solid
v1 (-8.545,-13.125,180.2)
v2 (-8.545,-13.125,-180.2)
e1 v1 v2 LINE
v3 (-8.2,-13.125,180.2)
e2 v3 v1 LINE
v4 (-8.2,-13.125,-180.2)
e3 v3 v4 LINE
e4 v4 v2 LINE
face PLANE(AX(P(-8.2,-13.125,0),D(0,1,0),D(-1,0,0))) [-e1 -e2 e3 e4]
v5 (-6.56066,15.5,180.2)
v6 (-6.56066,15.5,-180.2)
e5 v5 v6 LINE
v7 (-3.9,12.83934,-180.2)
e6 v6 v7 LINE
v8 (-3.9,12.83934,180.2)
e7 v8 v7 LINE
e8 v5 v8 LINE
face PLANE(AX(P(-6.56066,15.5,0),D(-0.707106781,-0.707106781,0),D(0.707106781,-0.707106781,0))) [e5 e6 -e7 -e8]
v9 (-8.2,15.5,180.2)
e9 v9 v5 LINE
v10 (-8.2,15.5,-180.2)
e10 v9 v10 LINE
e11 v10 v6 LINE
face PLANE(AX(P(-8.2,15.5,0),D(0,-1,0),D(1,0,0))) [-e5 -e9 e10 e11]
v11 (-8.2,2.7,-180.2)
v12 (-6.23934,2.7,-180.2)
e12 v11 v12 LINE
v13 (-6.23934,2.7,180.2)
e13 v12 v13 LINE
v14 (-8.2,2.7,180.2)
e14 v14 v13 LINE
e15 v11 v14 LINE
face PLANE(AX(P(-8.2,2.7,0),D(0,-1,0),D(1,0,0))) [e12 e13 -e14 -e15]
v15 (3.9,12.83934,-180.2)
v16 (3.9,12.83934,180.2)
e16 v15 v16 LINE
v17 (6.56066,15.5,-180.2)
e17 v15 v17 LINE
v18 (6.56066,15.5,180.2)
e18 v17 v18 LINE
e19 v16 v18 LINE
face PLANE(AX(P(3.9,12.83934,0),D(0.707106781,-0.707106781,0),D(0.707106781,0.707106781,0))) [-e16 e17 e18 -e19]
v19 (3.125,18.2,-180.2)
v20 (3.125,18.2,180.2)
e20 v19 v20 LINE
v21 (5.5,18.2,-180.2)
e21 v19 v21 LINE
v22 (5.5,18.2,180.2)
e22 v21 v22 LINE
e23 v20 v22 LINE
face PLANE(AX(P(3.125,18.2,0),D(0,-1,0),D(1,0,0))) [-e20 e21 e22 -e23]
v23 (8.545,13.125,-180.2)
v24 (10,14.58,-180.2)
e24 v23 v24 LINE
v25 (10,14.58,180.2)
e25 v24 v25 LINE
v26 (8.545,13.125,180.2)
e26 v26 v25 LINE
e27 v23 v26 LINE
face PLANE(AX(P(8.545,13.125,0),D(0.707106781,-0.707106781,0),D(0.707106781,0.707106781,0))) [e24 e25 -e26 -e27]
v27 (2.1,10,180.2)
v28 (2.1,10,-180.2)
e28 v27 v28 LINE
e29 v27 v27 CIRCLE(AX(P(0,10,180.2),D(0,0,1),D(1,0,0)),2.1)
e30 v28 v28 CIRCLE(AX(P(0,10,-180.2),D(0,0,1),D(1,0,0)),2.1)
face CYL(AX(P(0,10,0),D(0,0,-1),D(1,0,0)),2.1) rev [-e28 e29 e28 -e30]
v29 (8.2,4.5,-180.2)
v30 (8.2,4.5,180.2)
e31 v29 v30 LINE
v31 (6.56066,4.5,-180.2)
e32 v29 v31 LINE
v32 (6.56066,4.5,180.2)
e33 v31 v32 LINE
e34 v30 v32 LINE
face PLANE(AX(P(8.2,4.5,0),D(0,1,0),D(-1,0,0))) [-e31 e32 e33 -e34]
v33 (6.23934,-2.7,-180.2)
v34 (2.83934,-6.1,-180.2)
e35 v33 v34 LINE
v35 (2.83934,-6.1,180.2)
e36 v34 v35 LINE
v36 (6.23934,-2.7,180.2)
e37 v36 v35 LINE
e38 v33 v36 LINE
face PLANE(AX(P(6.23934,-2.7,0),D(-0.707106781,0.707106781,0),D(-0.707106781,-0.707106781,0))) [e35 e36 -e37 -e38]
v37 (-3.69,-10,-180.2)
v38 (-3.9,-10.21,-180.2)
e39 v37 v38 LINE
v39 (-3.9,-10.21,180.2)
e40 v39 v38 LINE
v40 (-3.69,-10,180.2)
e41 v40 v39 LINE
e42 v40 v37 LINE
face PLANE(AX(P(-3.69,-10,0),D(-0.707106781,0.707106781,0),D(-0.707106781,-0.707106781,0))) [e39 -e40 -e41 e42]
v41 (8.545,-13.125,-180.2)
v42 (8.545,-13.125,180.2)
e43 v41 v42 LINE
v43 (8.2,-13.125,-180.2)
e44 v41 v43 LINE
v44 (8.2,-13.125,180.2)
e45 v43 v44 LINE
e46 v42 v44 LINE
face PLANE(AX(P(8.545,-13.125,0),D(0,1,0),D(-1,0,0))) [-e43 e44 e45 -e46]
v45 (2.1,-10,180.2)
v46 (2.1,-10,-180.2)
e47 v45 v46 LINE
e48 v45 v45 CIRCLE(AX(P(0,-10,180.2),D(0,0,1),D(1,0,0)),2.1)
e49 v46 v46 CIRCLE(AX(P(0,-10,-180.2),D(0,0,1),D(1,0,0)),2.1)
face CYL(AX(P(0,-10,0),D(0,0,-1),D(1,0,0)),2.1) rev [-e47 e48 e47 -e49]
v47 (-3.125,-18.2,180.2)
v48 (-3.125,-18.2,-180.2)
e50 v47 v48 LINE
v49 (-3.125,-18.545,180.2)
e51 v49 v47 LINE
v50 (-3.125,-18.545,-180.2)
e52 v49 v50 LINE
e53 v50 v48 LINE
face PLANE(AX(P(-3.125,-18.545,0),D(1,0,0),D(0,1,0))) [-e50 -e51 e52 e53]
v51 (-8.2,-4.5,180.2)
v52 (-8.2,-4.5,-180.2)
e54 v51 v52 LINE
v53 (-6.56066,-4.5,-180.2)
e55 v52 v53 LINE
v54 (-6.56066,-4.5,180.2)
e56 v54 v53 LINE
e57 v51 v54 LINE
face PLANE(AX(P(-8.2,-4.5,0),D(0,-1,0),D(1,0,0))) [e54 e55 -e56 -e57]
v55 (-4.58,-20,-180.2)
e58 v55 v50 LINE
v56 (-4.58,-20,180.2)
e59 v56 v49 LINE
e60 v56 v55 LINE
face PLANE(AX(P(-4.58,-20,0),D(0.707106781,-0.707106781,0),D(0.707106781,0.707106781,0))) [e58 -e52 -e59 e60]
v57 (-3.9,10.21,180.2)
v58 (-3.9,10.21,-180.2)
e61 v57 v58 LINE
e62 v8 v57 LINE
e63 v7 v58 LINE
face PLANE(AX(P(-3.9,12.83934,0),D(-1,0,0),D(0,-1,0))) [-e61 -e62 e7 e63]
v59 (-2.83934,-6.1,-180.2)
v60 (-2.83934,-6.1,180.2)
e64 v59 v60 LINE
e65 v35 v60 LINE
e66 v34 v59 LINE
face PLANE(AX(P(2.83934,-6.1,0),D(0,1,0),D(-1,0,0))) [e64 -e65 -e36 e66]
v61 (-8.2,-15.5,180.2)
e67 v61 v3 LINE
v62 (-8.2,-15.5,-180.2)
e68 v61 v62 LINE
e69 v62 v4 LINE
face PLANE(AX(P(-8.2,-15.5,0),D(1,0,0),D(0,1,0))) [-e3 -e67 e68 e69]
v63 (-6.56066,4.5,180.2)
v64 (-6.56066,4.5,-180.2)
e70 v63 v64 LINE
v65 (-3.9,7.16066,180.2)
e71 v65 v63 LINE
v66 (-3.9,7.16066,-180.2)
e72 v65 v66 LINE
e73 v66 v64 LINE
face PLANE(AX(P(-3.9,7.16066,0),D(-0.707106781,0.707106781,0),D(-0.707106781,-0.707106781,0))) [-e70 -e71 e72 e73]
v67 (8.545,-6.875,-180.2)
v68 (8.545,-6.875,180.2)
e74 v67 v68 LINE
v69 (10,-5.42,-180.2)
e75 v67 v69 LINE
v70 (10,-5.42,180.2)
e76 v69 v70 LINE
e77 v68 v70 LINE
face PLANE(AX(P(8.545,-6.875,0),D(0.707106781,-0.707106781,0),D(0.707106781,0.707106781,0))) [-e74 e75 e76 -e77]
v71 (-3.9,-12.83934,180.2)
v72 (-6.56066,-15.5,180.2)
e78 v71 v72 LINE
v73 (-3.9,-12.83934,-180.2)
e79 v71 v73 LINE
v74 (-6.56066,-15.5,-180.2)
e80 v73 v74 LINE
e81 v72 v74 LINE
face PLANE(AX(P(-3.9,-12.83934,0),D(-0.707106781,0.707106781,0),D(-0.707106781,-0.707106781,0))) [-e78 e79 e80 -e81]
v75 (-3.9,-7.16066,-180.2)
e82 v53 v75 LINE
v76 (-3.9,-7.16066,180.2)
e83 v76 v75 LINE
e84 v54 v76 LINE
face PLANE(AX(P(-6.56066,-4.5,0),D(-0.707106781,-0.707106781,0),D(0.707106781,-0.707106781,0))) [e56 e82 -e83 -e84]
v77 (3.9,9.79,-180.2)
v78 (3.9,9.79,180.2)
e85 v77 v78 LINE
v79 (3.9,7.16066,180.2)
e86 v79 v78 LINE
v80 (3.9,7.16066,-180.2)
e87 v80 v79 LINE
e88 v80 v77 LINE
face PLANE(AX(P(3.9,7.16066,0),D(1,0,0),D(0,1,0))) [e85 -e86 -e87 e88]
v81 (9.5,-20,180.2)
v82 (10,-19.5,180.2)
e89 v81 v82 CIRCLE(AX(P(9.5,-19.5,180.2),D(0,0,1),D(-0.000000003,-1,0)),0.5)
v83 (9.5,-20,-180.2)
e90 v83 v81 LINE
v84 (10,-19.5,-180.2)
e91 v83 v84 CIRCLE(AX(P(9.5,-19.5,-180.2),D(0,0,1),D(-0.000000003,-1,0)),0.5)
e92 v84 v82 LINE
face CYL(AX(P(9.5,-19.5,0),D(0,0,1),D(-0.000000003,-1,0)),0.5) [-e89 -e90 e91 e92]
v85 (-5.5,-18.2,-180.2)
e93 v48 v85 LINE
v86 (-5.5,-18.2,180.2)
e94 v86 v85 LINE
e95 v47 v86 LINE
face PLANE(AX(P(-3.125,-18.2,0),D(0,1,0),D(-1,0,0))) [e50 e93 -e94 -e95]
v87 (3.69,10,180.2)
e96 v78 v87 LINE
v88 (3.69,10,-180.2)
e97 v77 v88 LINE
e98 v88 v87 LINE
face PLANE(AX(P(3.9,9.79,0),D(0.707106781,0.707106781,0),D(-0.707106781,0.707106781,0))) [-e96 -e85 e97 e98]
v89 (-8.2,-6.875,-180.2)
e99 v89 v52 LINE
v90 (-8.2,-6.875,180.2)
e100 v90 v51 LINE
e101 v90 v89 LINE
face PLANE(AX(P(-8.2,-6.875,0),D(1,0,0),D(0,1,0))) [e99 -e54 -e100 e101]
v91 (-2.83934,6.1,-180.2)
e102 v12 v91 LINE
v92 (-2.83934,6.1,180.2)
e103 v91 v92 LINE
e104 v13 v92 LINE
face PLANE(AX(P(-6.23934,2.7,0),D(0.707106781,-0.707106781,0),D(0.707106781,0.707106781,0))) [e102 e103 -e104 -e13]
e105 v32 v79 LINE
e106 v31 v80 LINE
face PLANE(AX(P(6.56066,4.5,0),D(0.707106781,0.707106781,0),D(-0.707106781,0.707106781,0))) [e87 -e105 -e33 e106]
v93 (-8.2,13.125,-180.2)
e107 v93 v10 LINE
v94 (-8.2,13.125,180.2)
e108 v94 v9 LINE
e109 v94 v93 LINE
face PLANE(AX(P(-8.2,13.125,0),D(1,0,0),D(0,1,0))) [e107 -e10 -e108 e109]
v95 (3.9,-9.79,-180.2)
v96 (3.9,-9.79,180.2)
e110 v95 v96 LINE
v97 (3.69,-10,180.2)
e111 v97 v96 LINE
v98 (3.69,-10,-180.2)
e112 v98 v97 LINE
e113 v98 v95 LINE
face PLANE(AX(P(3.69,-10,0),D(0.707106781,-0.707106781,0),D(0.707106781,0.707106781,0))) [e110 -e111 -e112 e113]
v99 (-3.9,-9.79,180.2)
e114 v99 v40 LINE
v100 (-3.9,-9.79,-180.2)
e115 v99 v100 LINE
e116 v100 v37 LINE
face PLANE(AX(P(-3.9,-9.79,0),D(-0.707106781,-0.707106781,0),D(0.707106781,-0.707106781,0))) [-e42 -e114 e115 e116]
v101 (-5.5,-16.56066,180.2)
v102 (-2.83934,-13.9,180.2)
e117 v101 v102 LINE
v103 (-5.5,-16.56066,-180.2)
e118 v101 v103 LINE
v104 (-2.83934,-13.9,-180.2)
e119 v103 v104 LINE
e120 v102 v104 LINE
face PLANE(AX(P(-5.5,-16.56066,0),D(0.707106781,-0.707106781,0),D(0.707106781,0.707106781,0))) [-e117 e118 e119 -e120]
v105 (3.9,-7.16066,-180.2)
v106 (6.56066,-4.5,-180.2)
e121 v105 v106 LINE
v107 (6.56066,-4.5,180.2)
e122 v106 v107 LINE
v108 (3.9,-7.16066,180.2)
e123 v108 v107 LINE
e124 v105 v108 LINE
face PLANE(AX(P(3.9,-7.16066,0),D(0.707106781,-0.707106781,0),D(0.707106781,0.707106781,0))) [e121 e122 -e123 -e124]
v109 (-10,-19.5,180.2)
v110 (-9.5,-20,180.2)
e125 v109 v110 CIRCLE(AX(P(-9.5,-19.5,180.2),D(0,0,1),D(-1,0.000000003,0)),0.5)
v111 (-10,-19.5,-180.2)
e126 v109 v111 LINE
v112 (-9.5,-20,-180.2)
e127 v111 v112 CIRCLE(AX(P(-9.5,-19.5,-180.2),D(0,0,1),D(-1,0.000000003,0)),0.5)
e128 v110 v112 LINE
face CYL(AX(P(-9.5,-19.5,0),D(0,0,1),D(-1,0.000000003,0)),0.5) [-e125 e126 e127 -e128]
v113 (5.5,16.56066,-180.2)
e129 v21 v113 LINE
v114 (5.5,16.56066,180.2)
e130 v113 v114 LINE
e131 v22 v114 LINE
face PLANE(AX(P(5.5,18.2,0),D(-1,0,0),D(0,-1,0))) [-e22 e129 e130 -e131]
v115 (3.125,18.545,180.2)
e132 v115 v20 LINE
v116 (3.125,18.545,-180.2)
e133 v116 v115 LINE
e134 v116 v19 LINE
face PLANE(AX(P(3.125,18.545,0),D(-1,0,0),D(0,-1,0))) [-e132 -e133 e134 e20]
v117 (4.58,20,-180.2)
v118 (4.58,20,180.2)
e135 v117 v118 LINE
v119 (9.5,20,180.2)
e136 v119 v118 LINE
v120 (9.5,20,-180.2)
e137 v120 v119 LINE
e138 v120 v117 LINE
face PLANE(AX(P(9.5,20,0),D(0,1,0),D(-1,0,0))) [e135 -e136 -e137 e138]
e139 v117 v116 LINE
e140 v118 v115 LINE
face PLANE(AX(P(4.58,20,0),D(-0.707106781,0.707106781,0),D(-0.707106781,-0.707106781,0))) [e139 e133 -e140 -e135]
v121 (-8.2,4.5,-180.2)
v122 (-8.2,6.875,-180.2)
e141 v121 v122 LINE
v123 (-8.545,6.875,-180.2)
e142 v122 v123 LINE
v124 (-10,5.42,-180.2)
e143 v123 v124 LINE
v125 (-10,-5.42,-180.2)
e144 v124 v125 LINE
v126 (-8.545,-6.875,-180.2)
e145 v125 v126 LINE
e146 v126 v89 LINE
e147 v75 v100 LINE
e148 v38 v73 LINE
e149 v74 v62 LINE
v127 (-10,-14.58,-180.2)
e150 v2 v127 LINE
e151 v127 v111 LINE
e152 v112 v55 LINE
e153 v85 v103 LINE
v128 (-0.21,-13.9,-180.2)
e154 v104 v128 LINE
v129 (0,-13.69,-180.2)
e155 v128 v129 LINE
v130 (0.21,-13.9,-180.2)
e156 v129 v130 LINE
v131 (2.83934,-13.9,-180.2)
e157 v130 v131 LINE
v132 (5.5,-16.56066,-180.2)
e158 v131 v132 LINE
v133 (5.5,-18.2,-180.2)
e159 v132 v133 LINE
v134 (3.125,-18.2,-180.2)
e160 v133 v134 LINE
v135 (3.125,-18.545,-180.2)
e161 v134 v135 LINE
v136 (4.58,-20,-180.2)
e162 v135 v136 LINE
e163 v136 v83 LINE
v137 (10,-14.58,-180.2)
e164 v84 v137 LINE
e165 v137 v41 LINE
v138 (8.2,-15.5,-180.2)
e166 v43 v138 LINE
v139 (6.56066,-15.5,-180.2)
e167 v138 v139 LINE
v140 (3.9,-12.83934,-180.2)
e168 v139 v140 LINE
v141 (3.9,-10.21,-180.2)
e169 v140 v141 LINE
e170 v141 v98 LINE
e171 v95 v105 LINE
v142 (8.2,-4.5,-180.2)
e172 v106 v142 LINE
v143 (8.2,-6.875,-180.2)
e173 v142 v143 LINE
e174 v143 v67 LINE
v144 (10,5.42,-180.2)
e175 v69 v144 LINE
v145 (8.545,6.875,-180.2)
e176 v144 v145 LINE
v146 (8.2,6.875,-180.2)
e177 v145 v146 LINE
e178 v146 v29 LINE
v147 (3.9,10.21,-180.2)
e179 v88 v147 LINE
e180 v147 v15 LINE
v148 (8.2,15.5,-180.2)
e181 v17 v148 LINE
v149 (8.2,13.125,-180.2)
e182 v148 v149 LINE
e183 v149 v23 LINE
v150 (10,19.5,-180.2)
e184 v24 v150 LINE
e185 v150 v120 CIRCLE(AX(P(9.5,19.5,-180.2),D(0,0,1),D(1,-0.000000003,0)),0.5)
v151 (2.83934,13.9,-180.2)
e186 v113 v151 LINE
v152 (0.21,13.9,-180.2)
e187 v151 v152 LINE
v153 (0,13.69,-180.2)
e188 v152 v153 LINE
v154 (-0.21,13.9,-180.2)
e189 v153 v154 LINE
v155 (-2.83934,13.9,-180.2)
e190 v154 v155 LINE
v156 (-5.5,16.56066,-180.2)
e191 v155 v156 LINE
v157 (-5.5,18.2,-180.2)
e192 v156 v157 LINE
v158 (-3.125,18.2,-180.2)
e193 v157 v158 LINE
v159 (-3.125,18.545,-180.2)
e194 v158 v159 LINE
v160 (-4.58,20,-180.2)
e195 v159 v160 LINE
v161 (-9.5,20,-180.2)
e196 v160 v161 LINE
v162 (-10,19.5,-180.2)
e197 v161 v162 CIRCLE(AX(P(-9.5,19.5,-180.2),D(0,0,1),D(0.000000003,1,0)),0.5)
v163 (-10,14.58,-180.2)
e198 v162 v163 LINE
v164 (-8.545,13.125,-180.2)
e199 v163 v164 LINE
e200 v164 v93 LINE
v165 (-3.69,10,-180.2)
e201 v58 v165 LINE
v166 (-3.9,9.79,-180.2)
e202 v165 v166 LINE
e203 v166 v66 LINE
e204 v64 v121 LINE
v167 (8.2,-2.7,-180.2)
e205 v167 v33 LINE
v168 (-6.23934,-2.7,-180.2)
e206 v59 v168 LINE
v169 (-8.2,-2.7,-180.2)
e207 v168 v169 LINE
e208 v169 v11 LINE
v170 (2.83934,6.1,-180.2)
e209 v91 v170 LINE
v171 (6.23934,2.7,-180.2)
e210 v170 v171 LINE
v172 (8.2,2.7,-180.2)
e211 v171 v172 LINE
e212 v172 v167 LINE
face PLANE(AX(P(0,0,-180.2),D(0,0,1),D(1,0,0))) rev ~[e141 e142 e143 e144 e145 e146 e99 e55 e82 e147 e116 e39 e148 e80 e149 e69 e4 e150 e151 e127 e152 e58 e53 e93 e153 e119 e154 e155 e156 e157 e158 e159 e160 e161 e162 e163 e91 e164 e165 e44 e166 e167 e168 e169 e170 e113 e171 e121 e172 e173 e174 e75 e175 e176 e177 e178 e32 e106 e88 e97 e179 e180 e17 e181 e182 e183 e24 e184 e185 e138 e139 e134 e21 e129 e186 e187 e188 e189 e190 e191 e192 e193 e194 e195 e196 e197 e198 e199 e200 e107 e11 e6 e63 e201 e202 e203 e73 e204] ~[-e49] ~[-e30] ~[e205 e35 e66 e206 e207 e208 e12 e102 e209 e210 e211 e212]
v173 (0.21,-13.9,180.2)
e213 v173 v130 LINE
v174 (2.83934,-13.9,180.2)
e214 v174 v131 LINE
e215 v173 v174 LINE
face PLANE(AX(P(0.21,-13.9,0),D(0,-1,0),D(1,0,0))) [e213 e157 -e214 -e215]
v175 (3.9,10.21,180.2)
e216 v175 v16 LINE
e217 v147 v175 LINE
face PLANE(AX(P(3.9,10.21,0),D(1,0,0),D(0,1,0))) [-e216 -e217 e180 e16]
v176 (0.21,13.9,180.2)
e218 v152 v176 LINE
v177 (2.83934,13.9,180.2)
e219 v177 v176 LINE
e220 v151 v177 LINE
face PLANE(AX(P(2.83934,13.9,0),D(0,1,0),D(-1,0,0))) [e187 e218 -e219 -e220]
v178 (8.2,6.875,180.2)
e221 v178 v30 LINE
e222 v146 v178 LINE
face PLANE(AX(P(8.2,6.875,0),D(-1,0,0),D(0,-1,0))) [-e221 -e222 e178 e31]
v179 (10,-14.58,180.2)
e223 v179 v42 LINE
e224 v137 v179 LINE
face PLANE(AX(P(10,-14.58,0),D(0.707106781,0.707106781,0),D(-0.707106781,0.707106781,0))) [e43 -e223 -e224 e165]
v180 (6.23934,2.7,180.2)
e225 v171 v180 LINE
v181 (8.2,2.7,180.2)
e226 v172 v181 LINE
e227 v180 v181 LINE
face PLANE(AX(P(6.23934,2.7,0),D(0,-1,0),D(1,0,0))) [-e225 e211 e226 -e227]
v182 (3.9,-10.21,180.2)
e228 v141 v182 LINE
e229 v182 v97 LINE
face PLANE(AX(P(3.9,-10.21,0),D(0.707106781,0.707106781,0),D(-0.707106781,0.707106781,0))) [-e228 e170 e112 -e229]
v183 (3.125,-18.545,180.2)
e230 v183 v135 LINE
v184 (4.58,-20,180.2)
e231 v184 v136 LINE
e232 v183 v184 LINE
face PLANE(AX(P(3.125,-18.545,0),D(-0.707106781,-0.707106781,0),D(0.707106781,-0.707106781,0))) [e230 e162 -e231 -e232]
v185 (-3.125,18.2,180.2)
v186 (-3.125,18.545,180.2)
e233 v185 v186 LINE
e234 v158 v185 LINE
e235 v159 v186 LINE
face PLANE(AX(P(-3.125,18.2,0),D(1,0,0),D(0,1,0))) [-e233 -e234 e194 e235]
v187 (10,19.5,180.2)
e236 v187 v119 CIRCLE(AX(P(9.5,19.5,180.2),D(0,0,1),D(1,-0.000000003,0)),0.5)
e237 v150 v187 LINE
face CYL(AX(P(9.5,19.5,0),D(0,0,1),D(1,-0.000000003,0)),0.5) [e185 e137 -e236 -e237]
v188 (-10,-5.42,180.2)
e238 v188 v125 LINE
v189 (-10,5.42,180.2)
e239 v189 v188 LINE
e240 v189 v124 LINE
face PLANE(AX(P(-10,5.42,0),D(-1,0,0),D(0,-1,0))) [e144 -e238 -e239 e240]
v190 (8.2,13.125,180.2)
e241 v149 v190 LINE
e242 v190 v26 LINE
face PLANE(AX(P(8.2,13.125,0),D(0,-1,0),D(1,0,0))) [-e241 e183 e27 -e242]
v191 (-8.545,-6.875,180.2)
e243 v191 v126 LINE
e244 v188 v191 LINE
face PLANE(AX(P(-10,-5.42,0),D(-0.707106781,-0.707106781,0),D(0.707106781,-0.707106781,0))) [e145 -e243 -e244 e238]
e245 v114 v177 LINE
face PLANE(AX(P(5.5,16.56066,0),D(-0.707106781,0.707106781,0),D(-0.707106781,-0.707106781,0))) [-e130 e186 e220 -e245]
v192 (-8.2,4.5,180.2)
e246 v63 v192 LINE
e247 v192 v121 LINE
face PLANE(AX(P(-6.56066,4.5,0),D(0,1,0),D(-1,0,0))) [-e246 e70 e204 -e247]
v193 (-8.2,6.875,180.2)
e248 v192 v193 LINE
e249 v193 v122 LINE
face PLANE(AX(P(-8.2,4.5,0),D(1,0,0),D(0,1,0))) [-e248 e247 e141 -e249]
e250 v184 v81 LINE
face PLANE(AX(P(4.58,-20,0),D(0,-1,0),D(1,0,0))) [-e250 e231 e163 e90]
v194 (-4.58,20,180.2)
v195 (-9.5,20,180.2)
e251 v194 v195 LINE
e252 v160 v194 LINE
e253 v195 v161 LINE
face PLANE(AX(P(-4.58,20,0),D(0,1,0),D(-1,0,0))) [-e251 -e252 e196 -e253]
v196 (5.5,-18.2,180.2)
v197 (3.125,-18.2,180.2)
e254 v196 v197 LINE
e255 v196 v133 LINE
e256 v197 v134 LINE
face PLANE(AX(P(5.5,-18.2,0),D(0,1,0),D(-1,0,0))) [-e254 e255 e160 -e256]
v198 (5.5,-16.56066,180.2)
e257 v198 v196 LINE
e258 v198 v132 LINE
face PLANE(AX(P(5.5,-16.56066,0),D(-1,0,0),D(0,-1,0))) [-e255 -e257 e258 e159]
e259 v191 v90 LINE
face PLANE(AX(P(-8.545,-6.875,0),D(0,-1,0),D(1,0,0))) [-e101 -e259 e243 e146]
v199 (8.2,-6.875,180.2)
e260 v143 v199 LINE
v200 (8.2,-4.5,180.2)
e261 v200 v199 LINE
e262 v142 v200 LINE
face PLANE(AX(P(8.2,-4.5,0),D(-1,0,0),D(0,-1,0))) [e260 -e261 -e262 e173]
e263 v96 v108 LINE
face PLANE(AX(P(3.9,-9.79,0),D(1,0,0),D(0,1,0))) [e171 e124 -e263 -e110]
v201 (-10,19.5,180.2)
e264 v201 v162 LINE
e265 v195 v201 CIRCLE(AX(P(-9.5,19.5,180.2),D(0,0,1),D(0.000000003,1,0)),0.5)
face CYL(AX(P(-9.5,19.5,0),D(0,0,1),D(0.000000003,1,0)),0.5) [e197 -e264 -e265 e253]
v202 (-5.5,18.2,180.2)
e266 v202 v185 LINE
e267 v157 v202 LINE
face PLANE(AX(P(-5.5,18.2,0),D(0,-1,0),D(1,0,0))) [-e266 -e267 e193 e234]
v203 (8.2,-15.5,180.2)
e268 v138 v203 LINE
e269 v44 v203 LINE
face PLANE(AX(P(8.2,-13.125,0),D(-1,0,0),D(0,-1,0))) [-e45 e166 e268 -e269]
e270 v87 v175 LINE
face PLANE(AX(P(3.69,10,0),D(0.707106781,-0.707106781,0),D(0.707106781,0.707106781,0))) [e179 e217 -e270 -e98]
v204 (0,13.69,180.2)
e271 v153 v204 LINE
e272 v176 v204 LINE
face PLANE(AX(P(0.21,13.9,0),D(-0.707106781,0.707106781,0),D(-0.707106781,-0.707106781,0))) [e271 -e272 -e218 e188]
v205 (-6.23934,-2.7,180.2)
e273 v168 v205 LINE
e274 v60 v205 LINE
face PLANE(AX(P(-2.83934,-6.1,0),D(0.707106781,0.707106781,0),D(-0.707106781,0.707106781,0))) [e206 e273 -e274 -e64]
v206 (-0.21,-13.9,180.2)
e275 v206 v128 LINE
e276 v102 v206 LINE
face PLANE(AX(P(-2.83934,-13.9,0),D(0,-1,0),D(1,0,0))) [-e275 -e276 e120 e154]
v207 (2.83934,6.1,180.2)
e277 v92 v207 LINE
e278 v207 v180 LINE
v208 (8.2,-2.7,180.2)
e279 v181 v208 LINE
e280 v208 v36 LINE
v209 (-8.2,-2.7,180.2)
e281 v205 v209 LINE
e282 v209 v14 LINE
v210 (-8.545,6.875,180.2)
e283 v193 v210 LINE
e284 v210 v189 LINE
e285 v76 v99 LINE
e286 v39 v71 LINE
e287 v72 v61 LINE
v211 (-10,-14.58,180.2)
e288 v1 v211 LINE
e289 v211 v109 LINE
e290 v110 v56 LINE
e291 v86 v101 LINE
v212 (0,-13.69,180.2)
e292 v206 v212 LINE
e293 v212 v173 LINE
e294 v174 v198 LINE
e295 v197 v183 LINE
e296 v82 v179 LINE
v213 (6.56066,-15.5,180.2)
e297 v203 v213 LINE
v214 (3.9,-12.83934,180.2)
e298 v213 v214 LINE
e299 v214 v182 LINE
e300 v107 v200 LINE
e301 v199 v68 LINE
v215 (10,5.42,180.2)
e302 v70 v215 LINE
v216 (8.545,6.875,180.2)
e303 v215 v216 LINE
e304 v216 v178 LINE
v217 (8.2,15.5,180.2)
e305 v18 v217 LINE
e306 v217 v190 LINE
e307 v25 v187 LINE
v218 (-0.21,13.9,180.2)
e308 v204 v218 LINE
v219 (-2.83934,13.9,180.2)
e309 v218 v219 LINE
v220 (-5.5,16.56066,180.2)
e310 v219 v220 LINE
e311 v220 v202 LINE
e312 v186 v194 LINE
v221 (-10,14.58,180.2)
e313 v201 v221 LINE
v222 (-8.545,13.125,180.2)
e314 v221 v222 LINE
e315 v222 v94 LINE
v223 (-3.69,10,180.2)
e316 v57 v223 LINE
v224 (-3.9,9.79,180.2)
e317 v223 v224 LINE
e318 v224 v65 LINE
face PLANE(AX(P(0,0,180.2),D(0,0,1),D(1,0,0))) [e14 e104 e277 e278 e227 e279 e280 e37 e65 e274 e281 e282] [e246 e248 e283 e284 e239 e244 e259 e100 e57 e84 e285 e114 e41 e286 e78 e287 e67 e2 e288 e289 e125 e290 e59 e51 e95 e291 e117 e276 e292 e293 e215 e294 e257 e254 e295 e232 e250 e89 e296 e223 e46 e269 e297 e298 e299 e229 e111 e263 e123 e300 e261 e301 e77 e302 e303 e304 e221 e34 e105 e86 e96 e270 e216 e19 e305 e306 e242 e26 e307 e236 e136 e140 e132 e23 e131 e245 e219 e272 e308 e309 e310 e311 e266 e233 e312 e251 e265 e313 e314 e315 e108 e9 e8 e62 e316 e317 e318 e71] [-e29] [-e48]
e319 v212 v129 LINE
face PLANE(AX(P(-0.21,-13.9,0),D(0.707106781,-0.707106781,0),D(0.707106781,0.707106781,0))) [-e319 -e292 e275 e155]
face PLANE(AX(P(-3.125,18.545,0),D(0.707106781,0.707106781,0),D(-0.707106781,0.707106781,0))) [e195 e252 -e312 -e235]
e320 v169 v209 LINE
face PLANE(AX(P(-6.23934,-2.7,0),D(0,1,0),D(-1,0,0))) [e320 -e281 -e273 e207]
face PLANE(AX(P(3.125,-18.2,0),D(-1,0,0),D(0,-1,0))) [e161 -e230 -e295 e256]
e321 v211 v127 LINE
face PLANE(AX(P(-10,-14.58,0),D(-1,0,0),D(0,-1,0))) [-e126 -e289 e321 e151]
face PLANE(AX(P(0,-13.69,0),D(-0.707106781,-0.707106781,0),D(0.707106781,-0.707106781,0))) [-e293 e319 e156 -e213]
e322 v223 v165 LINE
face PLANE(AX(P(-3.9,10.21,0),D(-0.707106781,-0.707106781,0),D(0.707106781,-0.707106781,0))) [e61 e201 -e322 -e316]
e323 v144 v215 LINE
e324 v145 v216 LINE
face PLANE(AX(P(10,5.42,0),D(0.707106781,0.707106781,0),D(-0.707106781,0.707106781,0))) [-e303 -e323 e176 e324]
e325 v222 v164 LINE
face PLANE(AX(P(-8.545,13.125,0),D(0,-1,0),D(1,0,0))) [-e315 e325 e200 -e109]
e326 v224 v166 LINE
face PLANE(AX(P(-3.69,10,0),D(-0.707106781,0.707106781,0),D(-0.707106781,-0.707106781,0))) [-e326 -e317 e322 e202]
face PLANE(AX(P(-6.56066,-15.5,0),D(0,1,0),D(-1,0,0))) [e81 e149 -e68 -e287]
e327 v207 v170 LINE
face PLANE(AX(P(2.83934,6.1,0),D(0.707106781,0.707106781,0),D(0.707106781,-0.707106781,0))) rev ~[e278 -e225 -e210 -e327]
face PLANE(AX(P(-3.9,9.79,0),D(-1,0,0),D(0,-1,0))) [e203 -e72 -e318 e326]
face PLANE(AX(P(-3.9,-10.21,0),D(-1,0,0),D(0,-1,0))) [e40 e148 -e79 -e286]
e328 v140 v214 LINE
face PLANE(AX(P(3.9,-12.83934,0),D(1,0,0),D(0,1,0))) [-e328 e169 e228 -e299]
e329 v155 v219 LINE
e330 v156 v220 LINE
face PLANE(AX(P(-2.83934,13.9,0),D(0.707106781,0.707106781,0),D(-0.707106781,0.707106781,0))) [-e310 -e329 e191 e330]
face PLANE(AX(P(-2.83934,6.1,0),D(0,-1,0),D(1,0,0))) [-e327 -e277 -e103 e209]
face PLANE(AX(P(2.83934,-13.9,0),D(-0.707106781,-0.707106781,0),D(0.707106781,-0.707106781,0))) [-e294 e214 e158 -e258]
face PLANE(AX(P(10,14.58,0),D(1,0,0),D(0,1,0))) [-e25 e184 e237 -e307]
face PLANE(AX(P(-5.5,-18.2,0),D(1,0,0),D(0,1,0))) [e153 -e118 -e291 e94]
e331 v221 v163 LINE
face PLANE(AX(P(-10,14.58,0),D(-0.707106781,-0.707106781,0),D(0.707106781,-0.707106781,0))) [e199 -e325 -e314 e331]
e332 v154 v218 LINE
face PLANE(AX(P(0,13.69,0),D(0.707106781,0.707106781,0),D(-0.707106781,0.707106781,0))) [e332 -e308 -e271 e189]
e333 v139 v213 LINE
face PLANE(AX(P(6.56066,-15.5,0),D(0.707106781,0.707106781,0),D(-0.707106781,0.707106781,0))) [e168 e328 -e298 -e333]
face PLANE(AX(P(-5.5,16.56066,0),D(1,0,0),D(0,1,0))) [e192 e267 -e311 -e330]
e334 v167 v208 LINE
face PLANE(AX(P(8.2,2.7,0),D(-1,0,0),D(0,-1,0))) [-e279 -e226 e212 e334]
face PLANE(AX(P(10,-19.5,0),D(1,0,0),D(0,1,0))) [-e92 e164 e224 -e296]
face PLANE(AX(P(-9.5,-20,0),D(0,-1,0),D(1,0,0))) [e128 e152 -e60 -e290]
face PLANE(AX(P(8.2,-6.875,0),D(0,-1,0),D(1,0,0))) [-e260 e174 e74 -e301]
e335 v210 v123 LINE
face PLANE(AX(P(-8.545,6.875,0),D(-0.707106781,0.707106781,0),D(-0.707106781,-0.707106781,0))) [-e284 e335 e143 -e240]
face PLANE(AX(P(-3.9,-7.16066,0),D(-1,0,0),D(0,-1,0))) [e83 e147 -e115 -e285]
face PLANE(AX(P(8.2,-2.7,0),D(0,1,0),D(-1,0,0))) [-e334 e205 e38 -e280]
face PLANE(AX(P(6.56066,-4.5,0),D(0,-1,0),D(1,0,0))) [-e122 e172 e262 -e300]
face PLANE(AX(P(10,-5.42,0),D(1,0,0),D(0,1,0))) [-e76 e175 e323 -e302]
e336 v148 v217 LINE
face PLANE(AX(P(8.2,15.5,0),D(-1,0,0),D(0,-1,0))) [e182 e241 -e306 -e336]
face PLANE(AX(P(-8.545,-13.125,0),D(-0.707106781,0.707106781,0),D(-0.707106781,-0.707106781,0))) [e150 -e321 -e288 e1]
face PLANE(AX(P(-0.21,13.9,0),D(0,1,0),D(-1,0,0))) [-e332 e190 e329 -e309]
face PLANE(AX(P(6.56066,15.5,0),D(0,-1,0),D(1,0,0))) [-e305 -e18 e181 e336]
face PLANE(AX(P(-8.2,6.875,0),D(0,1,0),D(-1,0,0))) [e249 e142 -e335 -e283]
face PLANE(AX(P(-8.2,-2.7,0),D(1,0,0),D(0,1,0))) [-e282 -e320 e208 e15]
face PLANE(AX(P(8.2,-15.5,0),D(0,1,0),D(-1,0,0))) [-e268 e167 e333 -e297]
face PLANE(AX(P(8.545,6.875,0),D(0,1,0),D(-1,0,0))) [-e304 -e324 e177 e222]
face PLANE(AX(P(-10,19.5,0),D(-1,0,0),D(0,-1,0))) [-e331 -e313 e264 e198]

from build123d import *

# Parameters (mm, degrees)
SKETCH1_R           = 2.1
BOSS_EXTRUDE1_DEPTH = 180.2


with BuildPart() as part:
    # Sketch1 → Boss-Extrude1 (new, symmetric)
    with BuildSketch(Plane.XY):
        with BuildLine():
            Line((4.58, -20), (9.5, -20))
            ThreePointArc((9.5, -20), (9.853553391, -19.853553391), (10, -19.5))
            Line((10, -19.5), (10, -14.58))
            Line((10, -14.58), (8.545, -13.125))
            Line((8.545, -13.125), (8.2, -13.125))
            Line((8.2, -13.125), (8.2, -15.5))
            Line((8.2, -15.5), (6.560660172, -15.5))
            Line((6.560660172, -15.5), (3.9, -12.839339828))
            Line((3.9, -12.839339828), (3.9, -10.21))
            Line((3.9, -10.21), (3.69, -10))
            Line((3.69, -10), (3.9, -9.79))
            Line((3.9, -9.79), (3.9, -7.160660172))
            Line((3.9, -7.160660172), (6.560660172, -4.5))
            Line((6.560660172, -4.5), (8.2, -4.5))
            Line((8.2, -4.5), (8.2, -6.875))
            Line((8.2, -6.875), (8.545, -6.875))
            Line((8.545, -6.875), (10, -5.42))
            Line((10, -5.42), (10, 5.42))
            Line((10, 5.42), (8.545, 6.875))
            Line((8.545, 6.875), (8.2, 6.875))
            Line((8.2, 6.875), (8.2, 4.5))
            Line((8.2, 4.5), (6.560660172, 4.5))
            Line((6.560660172, 4.5), (3.9, 7.160660172))
            Line((3.9, 7.160660172), (3.9, 9.79))
            Line((3.9, 9.79), (3.69, 10))
            Line((3.69, 10), (3.9, 10.21))
            Line((3.9, 10.21), (3.9, 12.839339828))
            Line((3.9, 12.839339828), (6.560660172, 15.5))
            Line((6.560660172, 15.5), (8.2, 15.5))
            Line((8.2, 15.5), (8.2, 13.125))
            Line((8.2, 13.125), (8.545, 13.125))
            Line((8.545, 13.125), (10, 14.58))
            Line((10, 14.58), (10, 19.5))
            ThreePointArc((10, 19.5), (9.853553391, 19.853553391), (9.5, 20))
            Line((9.5, 20), (4.58, 20))
            Line((4.58, 20), (3.125, 18.545))
            Line((3.125, 18.545), (3.125, 18.2))
            Line((3.125, 18.2), (5.5, 18.2))
            Line((5.5, 18.2), (5.5, 16.560660172))
            Line((5.5, 16.560660172), (2.839339828, 13.9))
            Line((2.839339828, 13.9), (0.21, 13.9))
            Line((0.21, 13.9), (0, 13.69))
            Line((0, 13.69), (-0.21, 13.9))
            Line((-0.21, 13.9), (-2.839339828, 13.9))
            Line((-2.839339828, 13.9), (-5.5, 16.560660172))
            Line((-5.5, 16.560660172), (-5.5, 18.2))
            Line((-5.5, 18.2), (-3.125, 18.2))
            Line((-3.125, 18.2), (-3.125, 18.545))
            Line((-3.125, 18.545), (-4.58, 20))
            Line((-4.58, 20), (-9.5, 20))
            ThreePointArc((-9.5, 20), (-9.853553391, 19.853553391), (-10, 19.5))
            Line((-10, 19.5), (-10, 14.58))
            Line((-10, 14.58), (-8.545, 13.125))
            Line((-8.545, 13.125), (-8.2, 13.125))
            Line((-8.2, 13.125), (-8.2, 15.5))
            Line((-8.2, 15.5), (-6.560660172, 15.5))
            Line((-6.560660172, 15.5), (-3.9, 12.839339828))
            Line((-3.9, 12.839339828), (-3.9, 10.21))
            Line((-3.9, 10.21), (-3.69, 10))
            Line((-3.69, 10), (-3.9, 9.79))
            Line((-3.9, 9.79), (-3.9, 7.160660172))
            Line((-3.9, 7.160660172), (-6.560660172, 4.5))
            Line((-6.560660172, 4.5), (-8.2, 4.5))
            Line((-8.2, 4.5), (-8.2, 6.875))
            Line((-8.2, 6.875), (-8.545, 6.875))
            Line((-8.545, 6.875), (-10, 5.42))
            Line((-10, 5.42), (-10, -5.42))
            Line((-10, -5.42), (-8.545, -6.875))
            Line((-8.545, -6.875), (-8.2, -6.875))
            Line((-8.2, -6.875), (-8.2, -4.5))
            Line((-8.2, -4.5), (-6.560660172, -4.5))
            Line((-6.560660172, -4.5), (-3.9, -7.160660172))
            Line((-3.9, -7.160660172), (-3.9, -9.79))
            Line((-3.9, -9.79), (-3.69, -10))
            Line((-3.69, -10), (-3.9, -10.21))
            Line((-3.9, -10.21), (-3.9, -12.839339828))
            Line((-3.9, -12.839339828), (-6.560660172, -15.5))
            Line((-6.560660172, -15.5), (-8.2, -15.5))
            Line((-8.2, -15.5), (-8.2, -13.125))
            Line((-8.2, -13.125), (-8.545, -13.125))
            Line((-8.545, -13.125), (-10, -14.58))
            Line((-10, -14.58), (-10, -19.5))
            ThreePointArc((-10, -19.5), (-9.853553391, -19.853553391), (-9.5, -20))
            Line((-9.5, -20), (-4.58, -20))
            Line((-4.58, -20), (-3.125, -18.545))
            Line((-3.125, -18.545), (-3.125, -18.2))
            Line((-3.125, -18.2), (-5.5, -18.2))
            Line((-5.5, -18.2), (-5.5, -16.560660172))
            Line((-5.5, -16.560660172), (-2.839339828, -13.9))
            Line((-2.839339828, -13.9), (-0.21, -13.9))
            Line((-0.21, -13.9), (0, -13.69))
            Line((0, -13.69), (0.21, -13.9))
            Line((0.21, -13.9), (2.839339828, -13.9))
            Line((2.839339828, -13.9), (5.5, -16.560660172))
            Line((5.5, -16.560660172), (5.5, -18.2))
            Line((5.5, -18.2), (3.125, -18.2))
            Line((3.125, -18.2), (3.125, -18.545))
            Line((3.125, -18.545), (4.58, -20))
        make_face()
        with Locations((0, -10)):
            Circle(SKETCH1_R, mode=Mode.SUBTRACT)
        Polygon((-6.239339828, -2.7), (-8.2, -2.7), (-8.2, 2.7), (-6.239339828, 2.7), (-2.839339828, 6.1), (2.839339828, 6.1), (6.239339828, 2.7), (8.2, 2.7), (8.2, -2.7), (6.239339828, -2.7), (2.839339828, -6.1), (-2.839339828, -6.1), align=None, mode=Mode.SUBTRACT)
        with Locations((0, 10)):
            Circle(SKETCH1_R, mode=Mode.SUBTRACT)
    extrude(amount=BOSS_EXTRUDE1_DEPTH, both=True)


solid = part.part
